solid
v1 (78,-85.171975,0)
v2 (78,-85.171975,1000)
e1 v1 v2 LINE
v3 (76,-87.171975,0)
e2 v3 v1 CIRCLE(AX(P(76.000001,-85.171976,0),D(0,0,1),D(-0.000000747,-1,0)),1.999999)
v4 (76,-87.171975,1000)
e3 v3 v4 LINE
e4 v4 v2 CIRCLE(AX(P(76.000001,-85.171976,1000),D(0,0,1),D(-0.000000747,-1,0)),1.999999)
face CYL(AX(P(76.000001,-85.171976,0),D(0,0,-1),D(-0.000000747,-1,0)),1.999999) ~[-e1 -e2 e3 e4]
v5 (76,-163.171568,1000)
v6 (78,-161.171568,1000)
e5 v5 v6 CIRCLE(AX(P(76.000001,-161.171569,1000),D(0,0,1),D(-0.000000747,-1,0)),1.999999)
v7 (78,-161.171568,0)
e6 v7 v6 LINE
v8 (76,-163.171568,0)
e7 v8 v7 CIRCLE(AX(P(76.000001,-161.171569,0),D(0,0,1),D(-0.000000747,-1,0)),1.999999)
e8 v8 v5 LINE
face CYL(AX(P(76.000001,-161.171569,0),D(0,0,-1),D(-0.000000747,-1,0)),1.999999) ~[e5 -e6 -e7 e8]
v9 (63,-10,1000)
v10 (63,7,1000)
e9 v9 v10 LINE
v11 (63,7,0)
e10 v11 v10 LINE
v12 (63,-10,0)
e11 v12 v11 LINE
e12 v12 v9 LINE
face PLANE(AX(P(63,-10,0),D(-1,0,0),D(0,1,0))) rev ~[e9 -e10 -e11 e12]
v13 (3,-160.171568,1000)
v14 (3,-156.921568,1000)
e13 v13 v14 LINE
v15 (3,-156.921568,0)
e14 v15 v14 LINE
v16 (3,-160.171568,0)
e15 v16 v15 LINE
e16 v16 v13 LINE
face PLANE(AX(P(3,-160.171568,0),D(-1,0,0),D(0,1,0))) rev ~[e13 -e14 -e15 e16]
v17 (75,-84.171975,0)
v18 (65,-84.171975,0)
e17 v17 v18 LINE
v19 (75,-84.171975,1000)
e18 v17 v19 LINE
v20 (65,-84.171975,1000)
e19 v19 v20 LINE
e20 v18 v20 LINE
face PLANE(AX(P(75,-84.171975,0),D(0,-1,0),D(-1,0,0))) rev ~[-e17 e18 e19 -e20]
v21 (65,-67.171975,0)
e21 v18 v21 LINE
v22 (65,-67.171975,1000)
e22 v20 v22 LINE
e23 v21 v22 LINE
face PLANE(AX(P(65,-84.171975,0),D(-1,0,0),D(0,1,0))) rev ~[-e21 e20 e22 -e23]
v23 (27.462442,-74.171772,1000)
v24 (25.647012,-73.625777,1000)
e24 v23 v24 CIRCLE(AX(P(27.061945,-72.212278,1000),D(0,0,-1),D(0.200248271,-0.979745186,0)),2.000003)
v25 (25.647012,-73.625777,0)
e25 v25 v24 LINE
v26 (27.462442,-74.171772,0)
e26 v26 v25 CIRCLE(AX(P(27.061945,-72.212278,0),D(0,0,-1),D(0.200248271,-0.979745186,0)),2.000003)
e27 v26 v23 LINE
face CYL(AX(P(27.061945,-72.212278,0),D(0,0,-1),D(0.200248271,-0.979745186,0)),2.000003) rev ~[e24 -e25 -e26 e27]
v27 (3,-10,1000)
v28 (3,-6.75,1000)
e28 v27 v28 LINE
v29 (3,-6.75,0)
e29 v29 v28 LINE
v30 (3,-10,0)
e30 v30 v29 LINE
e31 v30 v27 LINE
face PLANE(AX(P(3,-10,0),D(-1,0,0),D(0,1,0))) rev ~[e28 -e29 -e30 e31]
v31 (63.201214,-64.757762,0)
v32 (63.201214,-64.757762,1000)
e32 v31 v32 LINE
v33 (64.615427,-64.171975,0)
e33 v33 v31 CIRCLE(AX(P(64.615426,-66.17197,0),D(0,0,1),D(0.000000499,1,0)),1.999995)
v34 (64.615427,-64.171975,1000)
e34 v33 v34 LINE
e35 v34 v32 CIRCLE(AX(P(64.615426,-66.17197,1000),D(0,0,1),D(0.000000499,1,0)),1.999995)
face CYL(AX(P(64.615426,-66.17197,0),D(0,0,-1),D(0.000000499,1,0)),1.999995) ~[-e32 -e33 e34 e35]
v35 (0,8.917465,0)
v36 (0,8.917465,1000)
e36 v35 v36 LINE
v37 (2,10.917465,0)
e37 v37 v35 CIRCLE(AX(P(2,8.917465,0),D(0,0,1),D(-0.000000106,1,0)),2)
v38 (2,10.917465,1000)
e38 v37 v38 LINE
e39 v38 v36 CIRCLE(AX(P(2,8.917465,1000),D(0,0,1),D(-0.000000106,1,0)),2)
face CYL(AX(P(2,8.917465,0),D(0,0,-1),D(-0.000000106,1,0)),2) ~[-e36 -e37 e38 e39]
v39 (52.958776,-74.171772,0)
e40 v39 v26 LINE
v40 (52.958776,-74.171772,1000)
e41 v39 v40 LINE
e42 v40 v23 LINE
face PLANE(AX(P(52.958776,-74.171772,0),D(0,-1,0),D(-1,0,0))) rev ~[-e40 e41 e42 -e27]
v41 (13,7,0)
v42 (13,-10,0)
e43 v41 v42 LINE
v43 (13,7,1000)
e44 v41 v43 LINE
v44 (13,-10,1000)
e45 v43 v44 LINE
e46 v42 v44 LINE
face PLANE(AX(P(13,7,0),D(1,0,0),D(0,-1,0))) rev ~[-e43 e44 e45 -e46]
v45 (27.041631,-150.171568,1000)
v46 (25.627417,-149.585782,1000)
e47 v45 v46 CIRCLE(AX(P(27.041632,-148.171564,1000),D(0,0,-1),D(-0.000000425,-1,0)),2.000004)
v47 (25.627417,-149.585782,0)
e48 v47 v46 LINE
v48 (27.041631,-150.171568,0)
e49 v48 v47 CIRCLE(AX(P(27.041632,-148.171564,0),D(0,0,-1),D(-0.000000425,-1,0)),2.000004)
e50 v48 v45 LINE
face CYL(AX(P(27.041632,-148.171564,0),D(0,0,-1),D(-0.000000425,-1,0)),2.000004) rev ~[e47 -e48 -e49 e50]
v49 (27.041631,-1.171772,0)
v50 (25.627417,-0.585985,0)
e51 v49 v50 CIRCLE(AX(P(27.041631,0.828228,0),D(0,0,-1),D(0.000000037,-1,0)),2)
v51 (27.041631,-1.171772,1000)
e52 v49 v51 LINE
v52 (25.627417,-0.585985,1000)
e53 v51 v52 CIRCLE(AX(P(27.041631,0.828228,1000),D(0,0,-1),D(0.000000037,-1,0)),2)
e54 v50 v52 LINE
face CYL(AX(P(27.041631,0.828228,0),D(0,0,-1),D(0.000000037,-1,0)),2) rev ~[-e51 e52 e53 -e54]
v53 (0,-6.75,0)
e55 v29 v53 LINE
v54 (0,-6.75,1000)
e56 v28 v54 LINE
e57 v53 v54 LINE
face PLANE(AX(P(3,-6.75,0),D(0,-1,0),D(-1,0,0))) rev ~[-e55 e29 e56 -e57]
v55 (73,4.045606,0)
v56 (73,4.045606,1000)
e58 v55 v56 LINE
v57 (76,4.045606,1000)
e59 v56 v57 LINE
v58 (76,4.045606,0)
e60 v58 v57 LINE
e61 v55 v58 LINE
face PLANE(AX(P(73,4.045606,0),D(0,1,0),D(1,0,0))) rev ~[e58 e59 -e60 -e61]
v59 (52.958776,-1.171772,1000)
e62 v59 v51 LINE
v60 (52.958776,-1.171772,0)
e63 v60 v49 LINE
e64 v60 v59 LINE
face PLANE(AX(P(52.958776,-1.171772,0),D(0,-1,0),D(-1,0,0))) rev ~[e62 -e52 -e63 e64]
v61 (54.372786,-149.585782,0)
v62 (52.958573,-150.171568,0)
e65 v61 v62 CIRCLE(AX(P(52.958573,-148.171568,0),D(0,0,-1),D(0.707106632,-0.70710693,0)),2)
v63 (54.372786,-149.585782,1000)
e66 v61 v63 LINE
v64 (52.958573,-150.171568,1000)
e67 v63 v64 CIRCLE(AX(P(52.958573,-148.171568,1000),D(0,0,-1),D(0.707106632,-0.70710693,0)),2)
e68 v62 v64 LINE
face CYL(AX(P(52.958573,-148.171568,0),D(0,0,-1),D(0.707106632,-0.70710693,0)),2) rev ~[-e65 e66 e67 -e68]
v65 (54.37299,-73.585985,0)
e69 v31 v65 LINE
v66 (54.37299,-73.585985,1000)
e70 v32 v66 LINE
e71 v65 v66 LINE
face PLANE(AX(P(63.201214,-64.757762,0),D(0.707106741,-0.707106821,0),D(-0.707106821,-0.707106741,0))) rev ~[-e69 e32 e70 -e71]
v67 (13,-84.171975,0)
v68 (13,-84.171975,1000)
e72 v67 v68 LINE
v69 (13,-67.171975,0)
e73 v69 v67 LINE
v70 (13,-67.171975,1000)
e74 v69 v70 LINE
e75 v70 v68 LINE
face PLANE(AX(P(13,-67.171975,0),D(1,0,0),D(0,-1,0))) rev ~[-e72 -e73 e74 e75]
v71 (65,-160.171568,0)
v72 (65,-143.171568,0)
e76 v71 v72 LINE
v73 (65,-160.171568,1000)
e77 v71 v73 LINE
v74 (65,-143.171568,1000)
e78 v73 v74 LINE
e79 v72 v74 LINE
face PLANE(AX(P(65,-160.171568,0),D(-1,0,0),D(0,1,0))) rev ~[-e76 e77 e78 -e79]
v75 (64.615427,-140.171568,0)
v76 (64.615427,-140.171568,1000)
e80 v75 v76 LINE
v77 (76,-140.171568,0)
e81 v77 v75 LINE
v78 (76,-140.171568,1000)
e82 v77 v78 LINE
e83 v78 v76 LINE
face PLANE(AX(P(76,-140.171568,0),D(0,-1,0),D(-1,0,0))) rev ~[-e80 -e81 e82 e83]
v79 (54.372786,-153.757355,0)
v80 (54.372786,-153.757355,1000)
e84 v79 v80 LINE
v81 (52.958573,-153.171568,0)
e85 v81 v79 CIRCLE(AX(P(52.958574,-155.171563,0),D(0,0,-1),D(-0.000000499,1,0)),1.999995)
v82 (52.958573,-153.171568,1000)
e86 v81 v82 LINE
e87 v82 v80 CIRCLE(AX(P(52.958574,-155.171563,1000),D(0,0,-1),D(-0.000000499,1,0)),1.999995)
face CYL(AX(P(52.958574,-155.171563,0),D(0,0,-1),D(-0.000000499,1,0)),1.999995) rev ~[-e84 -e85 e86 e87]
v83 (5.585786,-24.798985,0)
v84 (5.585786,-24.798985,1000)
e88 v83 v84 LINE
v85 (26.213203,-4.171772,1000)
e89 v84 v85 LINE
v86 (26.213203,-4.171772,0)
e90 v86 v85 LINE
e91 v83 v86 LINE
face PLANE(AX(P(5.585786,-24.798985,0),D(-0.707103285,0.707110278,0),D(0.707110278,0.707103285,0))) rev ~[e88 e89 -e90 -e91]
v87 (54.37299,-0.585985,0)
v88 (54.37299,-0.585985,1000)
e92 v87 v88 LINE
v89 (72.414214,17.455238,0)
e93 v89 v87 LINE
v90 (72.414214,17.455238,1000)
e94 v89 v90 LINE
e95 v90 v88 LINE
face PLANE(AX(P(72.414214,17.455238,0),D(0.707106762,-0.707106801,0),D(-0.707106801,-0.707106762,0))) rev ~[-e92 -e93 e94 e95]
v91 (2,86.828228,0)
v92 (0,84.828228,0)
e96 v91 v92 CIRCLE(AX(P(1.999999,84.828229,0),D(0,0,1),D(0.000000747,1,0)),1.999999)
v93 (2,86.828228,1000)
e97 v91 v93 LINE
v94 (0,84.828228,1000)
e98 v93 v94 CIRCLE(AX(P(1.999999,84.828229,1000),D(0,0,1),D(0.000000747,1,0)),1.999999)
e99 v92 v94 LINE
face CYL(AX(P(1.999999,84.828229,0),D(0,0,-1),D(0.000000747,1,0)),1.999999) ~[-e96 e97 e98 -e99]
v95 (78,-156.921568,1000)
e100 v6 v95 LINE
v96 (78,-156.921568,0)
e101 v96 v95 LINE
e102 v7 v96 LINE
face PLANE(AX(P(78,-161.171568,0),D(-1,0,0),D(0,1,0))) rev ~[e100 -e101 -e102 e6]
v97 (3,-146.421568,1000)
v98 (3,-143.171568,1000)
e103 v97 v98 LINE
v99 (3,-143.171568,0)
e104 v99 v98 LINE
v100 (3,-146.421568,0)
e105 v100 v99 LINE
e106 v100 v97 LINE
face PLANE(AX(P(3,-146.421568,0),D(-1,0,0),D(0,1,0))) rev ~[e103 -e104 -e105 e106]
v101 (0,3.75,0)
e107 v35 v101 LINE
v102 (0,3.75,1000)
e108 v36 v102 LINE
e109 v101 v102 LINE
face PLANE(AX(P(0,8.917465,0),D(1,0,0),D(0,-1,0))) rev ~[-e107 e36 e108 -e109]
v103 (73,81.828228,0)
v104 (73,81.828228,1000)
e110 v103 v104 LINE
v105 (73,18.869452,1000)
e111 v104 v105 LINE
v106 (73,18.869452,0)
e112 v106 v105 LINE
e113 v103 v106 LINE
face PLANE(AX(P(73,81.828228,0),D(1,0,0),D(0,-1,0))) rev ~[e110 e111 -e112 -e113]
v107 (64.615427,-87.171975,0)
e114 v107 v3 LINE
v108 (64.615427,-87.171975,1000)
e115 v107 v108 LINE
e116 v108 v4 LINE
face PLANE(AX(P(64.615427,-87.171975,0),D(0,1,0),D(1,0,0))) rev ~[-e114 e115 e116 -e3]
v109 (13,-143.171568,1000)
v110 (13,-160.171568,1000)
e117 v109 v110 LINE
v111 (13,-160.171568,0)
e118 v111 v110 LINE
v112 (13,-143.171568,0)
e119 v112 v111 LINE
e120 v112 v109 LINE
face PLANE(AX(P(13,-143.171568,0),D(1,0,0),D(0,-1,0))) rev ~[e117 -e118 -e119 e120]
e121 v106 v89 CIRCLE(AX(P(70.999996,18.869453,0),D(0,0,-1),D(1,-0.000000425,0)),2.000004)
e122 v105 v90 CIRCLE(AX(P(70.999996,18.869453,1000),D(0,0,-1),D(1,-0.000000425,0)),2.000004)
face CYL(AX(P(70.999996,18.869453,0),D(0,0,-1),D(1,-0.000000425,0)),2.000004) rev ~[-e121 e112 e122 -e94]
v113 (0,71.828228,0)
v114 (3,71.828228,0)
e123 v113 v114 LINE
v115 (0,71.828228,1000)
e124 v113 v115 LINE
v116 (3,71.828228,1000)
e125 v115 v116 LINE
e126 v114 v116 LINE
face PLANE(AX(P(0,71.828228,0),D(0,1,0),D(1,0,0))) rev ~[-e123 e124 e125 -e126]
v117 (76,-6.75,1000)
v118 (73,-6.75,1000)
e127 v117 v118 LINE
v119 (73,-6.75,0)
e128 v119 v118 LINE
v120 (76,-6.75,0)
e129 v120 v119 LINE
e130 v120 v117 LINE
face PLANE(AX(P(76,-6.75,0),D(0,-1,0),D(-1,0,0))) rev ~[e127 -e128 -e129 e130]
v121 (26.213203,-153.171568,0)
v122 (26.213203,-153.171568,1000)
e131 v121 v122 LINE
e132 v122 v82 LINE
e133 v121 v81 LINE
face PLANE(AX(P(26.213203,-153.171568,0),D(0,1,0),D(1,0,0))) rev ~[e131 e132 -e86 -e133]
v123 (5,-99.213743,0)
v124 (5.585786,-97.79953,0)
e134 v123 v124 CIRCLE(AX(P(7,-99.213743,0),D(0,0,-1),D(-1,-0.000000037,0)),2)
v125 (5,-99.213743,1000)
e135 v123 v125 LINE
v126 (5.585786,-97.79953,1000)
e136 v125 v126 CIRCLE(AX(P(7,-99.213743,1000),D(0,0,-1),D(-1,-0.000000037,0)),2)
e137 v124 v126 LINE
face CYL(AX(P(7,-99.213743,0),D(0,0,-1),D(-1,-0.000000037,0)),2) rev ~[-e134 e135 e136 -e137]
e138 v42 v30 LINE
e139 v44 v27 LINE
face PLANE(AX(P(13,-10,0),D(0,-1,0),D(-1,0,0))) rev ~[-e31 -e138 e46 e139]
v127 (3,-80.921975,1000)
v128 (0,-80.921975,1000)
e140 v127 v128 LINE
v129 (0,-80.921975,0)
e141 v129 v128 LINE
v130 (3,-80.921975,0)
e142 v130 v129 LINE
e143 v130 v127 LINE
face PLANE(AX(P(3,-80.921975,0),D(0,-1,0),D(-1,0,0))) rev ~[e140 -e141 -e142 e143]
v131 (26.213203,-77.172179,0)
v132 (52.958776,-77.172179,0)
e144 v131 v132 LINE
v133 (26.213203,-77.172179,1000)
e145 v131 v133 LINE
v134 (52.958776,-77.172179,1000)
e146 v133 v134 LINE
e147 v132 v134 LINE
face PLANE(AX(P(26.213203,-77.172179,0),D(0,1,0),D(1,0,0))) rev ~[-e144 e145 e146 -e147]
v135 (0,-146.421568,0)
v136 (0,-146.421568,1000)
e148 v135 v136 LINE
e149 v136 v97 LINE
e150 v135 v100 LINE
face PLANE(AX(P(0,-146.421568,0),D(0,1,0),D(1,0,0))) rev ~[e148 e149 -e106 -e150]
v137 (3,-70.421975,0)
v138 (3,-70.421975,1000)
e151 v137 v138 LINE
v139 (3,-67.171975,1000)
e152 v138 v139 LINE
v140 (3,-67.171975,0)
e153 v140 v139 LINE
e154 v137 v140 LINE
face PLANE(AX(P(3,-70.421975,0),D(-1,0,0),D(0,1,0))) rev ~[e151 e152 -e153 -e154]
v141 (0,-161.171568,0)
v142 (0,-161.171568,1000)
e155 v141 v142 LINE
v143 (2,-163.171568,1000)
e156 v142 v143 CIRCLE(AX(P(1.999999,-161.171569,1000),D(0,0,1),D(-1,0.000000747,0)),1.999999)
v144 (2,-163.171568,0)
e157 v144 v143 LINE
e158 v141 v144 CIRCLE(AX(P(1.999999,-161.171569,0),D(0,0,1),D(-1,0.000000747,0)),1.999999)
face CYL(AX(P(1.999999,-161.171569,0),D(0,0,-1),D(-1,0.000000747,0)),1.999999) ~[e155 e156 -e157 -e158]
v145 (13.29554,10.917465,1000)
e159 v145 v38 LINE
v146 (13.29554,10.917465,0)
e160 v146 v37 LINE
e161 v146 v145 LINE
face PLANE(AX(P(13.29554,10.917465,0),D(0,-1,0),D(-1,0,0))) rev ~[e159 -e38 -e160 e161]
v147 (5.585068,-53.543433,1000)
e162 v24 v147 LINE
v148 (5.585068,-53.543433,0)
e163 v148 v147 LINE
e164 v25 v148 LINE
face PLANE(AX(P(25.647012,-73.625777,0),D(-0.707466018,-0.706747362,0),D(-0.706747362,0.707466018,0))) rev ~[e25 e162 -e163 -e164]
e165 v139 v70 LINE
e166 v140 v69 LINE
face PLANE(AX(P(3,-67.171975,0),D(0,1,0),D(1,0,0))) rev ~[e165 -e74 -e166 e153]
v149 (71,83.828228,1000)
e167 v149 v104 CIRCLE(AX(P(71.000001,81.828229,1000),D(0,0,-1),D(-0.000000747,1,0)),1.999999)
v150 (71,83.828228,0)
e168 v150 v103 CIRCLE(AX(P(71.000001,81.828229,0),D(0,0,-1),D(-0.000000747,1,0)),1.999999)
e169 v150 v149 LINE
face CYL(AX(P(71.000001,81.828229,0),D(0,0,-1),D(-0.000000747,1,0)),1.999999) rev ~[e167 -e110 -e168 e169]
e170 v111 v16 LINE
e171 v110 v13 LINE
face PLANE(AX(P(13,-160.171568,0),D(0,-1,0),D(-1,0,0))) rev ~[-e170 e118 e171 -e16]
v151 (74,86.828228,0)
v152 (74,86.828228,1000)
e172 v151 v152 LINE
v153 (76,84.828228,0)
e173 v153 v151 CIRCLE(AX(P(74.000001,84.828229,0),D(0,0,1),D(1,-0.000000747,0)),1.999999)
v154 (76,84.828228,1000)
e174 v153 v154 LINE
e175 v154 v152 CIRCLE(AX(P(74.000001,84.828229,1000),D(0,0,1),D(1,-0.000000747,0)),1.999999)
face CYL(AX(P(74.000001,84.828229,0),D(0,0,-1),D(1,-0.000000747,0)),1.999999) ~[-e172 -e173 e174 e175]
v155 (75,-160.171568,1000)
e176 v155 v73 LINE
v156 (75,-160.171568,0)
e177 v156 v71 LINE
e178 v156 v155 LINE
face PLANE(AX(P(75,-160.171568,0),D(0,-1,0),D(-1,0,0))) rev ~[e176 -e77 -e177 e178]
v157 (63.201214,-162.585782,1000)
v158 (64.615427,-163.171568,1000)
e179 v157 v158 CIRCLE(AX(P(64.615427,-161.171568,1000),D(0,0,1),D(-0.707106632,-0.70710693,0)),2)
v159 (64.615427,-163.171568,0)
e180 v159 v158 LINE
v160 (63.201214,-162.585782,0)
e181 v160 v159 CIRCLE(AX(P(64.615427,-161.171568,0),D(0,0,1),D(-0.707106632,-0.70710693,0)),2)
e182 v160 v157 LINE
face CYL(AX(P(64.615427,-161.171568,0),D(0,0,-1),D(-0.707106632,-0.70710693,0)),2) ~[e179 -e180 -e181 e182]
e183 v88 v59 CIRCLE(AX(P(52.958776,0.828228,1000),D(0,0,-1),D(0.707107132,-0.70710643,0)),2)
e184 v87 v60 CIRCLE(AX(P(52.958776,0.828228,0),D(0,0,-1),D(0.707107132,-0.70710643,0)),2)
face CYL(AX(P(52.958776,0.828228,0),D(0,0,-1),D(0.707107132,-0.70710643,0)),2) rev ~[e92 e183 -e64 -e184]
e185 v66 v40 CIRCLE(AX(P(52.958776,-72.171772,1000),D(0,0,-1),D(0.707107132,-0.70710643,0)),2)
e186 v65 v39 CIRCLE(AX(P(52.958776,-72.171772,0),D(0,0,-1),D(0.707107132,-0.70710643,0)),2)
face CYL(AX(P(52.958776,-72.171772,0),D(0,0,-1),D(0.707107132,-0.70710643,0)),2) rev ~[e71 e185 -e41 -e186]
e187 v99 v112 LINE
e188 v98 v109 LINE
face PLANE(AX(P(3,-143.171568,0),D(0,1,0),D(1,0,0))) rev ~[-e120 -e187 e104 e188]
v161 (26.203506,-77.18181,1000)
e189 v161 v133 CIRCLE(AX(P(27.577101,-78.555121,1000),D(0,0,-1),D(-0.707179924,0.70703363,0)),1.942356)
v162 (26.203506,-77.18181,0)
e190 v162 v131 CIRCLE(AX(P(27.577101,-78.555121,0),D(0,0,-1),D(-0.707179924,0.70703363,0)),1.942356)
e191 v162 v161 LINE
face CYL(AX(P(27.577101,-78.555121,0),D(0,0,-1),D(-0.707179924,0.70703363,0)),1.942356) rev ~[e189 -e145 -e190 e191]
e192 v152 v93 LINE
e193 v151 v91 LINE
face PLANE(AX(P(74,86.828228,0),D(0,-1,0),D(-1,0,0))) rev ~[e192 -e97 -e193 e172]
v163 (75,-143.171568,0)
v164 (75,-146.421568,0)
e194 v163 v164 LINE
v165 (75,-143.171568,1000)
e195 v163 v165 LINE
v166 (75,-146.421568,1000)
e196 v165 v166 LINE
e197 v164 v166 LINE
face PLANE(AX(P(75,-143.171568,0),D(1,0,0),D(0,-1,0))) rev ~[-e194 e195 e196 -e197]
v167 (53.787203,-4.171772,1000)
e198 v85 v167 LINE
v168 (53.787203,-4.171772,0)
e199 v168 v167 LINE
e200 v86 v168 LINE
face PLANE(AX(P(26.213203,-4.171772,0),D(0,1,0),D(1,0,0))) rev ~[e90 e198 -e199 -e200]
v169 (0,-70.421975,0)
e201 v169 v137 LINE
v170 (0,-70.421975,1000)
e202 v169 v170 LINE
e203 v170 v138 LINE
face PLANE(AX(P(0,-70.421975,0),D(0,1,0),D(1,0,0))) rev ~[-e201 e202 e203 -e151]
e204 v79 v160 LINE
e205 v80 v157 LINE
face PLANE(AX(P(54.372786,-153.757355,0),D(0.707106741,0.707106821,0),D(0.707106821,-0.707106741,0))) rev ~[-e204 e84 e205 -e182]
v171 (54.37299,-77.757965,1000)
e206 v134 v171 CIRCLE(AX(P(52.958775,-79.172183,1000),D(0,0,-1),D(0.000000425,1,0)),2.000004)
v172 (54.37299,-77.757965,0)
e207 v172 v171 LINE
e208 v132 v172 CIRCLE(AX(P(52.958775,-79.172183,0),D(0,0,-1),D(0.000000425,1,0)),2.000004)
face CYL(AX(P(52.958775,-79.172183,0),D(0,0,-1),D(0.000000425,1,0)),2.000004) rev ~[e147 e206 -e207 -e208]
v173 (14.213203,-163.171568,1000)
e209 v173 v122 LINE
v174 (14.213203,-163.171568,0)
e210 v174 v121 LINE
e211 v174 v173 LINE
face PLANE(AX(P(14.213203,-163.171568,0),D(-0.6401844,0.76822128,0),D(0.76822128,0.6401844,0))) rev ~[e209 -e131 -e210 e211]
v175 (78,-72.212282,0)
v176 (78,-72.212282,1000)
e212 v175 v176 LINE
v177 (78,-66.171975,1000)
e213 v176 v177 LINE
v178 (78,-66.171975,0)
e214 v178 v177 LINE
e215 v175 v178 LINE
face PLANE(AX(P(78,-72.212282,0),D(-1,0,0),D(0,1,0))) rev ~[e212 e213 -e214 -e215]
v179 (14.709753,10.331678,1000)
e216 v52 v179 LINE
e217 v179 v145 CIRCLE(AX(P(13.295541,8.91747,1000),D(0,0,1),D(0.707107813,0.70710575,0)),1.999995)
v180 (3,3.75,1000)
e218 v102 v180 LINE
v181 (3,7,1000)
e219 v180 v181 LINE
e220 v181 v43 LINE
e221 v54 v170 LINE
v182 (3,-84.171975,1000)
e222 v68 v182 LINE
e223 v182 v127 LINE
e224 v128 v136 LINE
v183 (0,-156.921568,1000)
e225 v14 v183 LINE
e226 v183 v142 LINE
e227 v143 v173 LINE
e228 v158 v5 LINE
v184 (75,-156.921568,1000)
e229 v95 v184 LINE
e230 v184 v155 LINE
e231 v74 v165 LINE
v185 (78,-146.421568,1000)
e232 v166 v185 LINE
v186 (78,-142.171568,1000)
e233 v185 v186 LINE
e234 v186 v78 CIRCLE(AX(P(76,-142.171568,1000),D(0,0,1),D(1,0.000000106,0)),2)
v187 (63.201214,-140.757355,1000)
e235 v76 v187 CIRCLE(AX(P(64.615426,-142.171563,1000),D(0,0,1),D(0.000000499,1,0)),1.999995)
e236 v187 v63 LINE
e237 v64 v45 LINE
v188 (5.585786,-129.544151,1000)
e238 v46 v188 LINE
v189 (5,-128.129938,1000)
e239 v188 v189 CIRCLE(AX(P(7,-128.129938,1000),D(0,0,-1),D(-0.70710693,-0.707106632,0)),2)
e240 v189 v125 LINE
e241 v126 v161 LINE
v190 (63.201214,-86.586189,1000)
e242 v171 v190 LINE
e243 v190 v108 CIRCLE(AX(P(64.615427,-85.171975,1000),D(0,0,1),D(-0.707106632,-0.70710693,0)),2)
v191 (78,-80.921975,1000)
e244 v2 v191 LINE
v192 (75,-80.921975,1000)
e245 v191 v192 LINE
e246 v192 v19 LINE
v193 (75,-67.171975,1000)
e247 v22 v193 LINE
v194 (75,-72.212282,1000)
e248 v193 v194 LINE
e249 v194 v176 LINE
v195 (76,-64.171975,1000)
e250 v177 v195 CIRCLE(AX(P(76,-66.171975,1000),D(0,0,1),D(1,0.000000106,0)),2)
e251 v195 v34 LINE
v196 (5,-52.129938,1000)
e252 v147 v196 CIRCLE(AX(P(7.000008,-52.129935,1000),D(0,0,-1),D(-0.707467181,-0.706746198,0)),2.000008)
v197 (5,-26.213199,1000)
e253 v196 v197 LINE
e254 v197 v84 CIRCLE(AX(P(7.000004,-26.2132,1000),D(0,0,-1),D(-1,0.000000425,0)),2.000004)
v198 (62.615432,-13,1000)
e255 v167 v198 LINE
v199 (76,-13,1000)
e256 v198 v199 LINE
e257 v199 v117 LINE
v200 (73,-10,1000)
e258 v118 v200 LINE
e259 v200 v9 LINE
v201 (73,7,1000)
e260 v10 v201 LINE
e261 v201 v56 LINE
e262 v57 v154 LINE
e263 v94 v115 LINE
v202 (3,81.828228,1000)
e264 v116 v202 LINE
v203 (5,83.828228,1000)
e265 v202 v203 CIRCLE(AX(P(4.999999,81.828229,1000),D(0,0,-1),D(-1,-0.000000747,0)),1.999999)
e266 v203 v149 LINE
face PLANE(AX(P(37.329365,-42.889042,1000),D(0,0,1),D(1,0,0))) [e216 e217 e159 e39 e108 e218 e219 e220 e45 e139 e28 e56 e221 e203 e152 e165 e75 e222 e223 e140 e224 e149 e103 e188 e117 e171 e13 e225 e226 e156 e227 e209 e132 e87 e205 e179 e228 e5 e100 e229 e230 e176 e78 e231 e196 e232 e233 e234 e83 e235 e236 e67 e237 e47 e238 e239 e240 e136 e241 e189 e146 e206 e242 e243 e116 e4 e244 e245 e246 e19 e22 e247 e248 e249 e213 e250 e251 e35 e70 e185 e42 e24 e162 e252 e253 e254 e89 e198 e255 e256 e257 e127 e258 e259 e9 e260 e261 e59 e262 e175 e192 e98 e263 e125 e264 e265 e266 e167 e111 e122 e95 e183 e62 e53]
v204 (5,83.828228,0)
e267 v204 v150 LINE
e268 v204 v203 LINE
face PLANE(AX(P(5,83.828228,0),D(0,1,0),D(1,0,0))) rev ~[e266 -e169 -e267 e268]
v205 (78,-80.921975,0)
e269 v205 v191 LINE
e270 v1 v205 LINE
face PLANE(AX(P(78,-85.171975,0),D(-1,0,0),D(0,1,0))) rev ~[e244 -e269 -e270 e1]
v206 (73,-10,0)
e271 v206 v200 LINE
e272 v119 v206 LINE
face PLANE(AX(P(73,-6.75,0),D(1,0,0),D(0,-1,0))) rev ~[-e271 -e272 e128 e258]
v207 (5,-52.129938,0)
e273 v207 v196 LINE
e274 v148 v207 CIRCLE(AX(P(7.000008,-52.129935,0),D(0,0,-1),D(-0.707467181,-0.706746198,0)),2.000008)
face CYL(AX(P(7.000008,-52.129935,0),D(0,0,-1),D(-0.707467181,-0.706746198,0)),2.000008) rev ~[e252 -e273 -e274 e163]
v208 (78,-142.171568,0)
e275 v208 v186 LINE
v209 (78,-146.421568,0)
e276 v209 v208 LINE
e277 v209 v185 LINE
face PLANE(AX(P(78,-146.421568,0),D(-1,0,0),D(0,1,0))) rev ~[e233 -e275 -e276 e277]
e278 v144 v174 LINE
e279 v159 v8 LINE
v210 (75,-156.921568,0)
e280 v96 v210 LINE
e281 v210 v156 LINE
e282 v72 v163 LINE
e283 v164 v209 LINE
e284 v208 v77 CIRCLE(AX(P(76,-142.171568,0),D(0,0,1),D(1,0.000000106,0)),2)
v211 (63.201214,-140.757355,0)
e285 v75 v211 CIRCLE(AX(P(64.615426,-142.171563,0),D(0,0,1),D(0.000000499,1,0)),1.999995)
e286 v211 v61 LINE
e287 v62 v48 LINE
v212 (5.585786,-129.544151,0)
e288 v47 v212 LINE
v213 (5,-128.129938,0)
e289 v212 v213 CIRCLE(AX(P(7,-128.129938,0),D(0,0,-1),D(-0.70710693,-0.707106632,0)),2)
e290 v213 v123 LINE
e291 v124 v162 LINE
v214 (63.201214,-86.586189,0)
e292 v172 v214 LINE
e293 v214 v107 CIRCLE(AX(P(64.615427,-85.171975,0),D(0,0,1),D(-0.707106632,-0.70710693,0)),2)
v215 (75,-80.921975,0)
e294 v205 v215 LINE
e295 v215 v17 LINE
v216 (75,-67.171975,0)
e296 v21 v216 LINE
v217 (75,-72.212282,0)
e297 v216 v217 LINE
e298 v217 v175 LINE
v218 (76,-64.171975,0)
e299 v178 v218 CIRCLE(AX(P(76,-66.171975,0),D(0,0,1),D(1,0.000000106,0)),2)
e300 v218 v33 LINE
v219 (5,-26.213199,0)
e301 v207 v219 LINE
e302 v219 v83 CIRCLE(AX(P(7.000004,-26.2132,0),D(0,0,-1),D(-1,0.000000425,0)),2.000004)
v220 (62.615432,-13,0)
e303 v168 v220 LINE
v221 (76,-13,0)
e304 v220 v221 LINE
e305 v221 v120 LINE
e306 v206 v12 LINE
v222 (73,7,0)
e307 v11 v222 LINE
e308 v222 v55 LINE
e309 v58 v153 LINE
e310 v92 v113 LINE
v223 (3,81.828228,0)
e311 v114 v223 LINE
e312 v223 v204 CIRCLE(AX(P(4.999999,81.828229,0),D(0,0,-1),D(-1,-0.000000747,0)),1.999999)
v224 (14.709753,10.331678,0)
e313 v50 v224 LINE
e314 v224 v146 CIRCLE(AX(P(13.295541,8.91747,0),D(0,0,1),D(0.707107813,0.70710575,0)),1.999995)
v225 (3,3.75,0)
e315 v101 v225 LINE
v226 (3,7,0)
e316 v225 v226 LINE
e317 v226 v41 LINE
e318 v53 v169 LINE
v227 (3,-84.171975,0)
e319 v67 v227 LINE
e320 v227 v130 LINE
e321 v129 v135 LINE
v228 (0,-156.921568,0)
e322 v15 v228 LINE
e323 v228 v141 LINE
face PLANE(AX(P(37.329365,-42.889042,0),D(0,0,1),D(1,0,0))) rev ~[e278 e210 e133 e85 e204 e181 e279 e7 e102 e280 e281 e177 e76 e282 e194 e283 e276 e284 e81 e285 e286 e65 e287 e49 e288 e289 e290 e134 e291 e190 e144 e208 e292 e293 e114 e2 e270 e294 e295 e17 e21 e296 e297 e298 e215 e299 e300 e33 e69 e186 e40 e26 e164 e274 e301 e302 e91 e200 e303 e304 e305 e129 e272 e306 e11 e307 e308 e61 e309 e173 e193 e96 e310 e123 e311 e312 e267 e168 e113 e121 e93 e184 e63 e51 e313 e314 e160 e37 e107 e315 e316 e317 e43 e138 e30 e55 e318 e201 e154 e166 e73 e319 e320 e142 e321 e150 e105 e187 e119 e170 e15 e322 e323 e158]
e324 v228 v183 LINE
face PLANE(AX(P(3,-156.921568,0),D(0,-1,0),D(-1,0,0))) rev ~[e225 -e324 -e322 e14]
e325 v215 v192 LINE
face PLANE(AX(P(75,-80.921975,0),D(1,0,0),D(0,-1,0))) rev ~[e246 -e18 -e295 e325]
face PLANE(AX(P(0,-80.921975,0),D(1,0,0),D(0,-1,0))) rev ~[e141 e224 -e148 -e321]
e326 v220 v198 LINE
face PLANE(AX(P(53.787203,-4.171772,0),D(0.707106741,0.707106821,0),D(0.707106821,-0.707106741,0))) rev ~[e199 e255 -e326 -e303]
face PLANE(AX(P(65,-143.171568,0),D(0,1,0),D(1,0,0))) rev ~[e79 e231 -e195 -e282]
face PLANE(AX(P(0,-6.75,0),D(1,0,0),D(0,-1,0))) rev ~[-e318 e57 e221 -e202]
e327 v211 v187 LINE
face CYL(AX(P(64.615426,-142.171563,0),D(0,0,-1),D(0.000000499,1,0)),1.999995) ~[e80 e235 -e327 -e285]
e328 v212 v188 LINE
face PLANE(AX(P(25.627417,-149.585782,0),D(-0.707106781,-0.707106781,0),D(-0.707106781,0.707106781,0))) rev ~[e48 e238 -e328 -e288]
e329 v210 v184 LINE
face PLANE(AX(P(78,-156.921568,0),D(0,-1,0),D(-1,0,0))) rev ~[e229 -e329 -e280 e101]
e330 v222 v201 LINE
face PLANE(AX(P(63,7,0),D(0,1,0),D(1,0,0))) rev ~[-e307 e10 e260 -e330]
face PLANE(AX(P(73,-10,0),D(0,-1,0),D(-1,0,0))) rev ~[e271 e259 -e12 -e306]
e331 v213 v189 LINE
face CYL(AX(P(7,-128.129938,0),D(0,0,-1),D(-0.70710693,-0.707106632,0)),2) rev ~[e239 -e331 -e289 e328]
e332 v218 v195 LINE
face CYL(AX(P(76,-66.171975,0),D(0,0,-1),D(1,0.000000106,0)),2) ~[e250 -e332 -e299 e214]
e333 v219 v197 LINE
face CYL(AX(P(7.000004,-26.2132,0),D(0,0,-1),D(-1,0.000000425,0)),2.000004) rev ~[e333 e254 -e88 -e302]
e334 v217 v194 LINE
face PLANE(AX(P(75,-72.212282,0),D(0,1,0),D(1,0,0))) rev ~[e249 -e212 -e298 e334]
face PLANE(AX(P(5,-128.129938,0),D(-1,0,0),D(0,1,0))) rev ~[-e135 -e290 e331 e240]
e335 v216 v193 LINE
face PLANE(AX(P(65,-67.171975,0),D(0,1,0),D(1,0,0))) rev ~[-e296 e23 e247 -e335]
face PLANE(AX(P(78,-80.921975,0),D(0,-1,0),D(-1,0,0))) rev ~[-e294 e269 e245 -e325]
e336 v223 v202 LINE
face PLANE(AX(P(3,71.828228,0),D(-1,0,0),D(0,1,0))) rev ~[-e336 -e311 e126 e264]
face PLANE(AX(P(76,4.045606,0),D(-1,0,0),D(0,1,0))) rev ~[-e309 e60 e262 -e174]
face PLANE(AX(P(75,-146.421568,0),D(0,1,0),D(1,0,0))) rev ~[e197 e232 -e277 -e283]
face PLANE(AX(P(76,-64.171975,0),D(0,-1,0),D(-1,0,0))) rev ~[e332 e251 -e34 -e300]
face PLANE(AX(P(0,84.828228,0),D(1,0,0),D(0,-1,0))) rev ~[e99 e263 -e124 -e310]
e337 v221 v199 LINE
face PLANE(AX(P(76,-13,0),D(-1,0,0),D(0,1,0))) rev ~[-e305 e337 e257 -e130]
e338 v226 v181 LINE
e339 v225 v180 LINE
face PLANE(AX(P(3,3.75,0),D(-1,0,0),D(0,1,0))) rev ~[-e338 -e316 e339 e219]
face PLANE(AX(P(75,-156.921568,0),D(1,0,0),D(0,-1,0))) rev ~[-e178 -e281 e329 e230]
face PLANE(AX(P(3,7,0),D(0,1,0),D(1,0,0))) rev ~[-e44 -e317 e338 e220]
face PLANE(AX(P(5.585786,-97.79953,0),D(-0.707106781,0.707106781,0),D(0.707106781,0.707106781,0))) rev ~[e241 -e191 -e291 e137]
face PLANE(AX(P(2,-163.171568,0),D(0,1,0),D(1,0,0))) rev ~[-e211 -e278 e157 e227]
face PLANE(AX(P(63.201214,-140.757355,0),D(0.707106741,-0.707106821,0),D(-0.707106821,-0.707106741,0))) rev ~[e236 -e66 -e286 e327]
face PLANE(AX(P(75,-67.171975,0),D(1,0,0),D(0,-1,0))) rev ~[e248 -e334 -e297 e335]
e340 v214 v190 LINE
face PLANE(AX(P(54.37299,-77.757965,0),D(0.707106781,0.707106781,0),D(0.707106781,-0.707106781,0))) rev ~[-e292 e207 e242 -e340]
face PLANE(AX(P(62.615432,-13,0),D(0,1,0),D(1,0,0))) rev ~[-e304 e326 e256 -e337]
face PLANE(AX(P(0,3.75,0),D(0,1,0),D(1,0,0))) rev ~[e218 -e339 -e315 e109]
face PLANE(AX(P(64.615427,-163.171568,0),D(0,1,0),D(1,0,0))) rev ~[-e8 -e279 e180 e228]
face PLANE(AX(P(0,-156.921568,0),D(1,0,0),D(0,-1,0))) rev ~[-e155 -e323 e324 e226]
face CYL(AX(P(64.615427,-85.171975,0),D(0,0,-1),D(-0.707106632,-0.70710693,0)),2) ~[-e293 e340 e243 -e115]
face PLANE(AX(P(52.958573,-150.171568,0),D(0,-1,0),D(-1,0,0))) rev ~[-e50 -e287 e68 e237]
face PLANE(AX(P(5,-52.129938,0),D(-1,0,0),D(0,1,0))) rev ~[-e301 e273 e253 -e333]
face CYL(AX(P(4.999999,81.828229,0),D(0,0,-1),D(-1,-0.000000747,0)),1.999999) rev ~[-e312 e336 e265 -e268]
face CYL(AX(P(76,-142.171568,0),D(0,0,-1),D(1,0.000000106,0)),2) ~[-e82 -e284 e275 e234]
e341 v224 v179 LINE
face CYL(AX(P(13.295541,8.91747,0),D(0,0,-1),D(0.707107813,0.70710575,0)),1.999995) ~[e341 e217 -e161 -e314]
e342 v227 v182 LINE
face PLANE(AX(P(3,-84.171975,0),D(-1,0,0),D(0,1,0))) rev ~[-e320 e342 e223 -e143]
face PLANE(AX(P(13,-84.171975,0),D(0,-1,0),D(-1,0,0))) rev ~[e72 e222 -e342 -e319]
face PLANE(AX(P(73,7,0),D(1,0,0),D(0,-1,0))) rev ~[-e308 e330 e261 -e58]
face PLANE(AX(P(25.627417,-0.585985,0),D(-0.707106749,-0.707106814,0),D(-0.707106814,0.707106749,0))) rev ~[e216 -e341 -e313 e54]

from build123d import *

# Parameters (mm, degrees)
F1_DEPTH = 1000


with BuildPart() as f1:
    # F0 (on Top) → F1 (new body)
    with BuildSketch(Plane.XY):
        with BuildLine():
            Line((0, 8.917465), (0, 3.75))
            Line((0, 3.75), (3, 3.75))
            Line((3, 3.75), (3, 7))
            Line((3, 7), (13, 7))
            Line((13, 7), (13, -10))
            Line((13, -10), (3, -10))
            Line((3, -10), (3, -6.75))
            Line((3, -6.75), (0, -6.75))
            Line((0, -6.75), (0, -70.421975))
            Line((0, -70.421975), (3, -70.421975))
            Line((3, -70.421975), (3, -67.171975))
            Line((3, -67.171975), (13, -67.171975))
            Line((13, -67.171975), (13, -84.171975))
            Line((13, -84.171975), (3, -84.171975))
            Line((3, -84.171975), (3, -80.921975))
            Line((3, -80.921975), (0, -80.921975))
            Line((0, -80.921975), (0, -146.421568))
            Line((0, -146.421568), (3, -146.421568))
            Line((3, -146.421568), (3, -143.171568))
            Line((3, -143.171568), (13, -143.171568))
            Line((13, -143.171568), (13, -160.171568))
            Line((13, -160.171568), (3, -160.171568))
            Line((3, -160.171568), (3, -156.921568))
            Line((3, -156.921568), (0, -156.921568))
            Line((0, -156.921568), (0, -161.171568))
            ThreePointArc((0, -161.171568), (0.585786, -162.585782), (2, -163.171568))
            Line((2, -163.171568), (14.213203, -163.171568))
            Line((14.213203, -163.171568), (26.213203, -153.171568))
            Line((26.213203, -153.171568), (52.958573, -153.171568))
            ThreePointArc((52.958573, -153.171568), (53.72394, -153.323809), (54.372786, -153.757355))
            Line((54.372786, -153.757355), (63.201214, -162.585782))
            ThreePointArc((63.201214, -162.585782), (63.85006, -163.019327), (64.615427, -163.171568))
            Line((64.615427, -163.171568), (76, -163.171568))
            ThreePointArc((76, -163.171568), (77.414214, -162.585782), (78, -161.171568))
            Line((78, -161.171568), (78, -156.921568))
            Line((78, -156.921568), (75, -156.921568))
            Line((75, -156.921568), (75, -160.171568))
            Line((75, -160.171568), (65, -160.171568))
            Line((65, -160.171568), (65, -143.171568))
            Line((65, -143.171568), (75, -143.171568))
            Line((75, -143.171568), (75, -146.421568))
            Line((75, -146.421568), (78, -146.421568))
            Line((78, -146.421568), (78, -142.171568))
            ThreePointArc((78, -142.171568), (77.414214, -140.757355), (76, -140.171568))
            Line((76, -140.171568), (64.615427, -140.171568))
            ThreePointArc((64.615427, -140.171568), (63.85006, -140.323809), (63.201214, -140.757355))
            Line((63.201214, -140.757355), (54.372786, -149.585782))
            ThreePointArc((54.372786, -149.585782), (53.72394, -150.019327), (52.958573, -150.171568))
            Line((52.958573, -150.171568), (27.041631, -150.171568))
            ThreePointArc((27.041631, -150.171568), (26.276264, -150.019327), (25.627417, -149.585782))
            Line((25.627417, -149.585782), (5.585786, -129.544151))
            ThreePointArc((5.585786, -129.544151), (5.152241, -128.895305), (5, -128.129938))
            Line((5, -128.129938), (5, -99.213743))
            ThreePointArc((5, -99.213743), (5.152241, -98.448376), (5.585786, -97.79953))
            Line((5.585786, -97.79953), (26.203506, -77.18181))
            ThreePointArc((26.203506, -77.18181), (26.208346, -77.176986), (26.213203, -77.172179))
            Line((26.213203, -77.172179), (52.958776, -77.172179))
            ThreePointArc((52.958776, -77.172179), (53.724143, -77.32442), (54.37299, -77.757965))
            Line((54.37299, -77.757965), (63.201214, -86.586189))
            ThreePointArc((63.201214, -86.586189), (63.85006, -87.019734), (64.615427, -87.171975))
            Line((64.615427, -87.171975), (76, -87.171975))
            ThreePointArc((76, -87.171975), (77.414214, -86.586189), (78, -85.171975))
            Line((78, -85.171975), (78, -80.921975))
            Line((78, -80.921975), (75, -80.921975))
            Line((75, -80.921975), (75, -84.171975))
            Line((75, -84.171975), (65, -84.171975))
            Line((65, -84.171975), (65, -67.171975))
            Line((65, -67.171975), (75, -67.171975))
            Line((75, -67.171975), (75, -72.212282))
            Line((75, -72.212282), (78, -72.212282))
            Line((78, -72.212282), (78, -66.171975))
            ThreePointArc((78, -66.171975), (77.414214, -64.757762), (76, -64.171975))
            Line((76, -64.171975), (64.615427, -64.171975))
            ThreePointArc((64.615427, -64.171975), (63.85006, -64.324216), (63.201214, -64.757762))
            Line((63.201214, -64.757762), (54.37299, -73.585985))
            ThreePointArc((54.37299, -73.585985), (53.724143, -74.019531), (52.958776, -74.171772))
            Line((52.958776, -74.171772), (27.462442, -74.171772))
            ThreePointArc((27.462442, -74.171772), (26.485926, -74.127537), (25.647012, -73.625777))
            Line((25.647012, -73.625777), (5.585068, -53.543433))
            ThreePointArc((5.585068, -53.543433), (5.152047, -52.894835), (5, -52.129938))
            Line((5, -52.129938), (5, -26.213199))
            ThreePointArc((5, -26.213199), (5.152241, -25.447832), (5.585786, -24.798985))
            Line((5.585786, -24.798985), (26.213203, -4.171772))
            Line((26.213203, -4.171772), (53.787203, -4.171772))
            Line((53.787203, -4.171772), (62.615432, -13))
            Line((62.615432, -13), (76, -13))
            Line((76, -13), (76, -6.75))
            Line((76, -6.75), (73, -6.75))
            Line((73, -6.75), (73, -10))
            Line((73, -10), (63, -10))
            Line((63, -10), (63, 7))
            Line((63, 7), (73, 7))
            Line((73, 7), (73, 4.045606))
            Line((73, 4.045606), (76, 4.045606))
            Line((76, 4.045606), (76, 84.828228))
            ThreePointArc((76, 84.828228), (75.414214, 86.242442), (74, 86.828228))
            Line((74, 86.828228), (2, 86.828228))
            ThreePointArc((2, 86.828228), (0.585786, 86.242442), (0, 84.828228))
            Line((0, 84.828228), (0, 71.828228))
            Line((0, 71.828228), (3, 71.828228))
            Line((3, 71.828228), (3, 81.828228))
            ThreePointArc((3, 81.828228), (3.585786, 83.242442), (5, 83.828228))
            Line((5, 83.828228), (71, 83.828228))
            ThreePointArc((71, 83.828228), (72.414214, 83.242442), (73, 81.828228))
            Line((73, 81.828228), (73, 18.869452))
            ThreePointArc((73, 18.869452), (72.847759, 18.104085), (72.414214, 17.455238))
            Line((72.414214, 17.455238), (54.37299, -0.585985))
            ThreePointArc((54.37299, -0.585985), (53.724143, -1.019531), (52.958776, -1.171772))
            Line((52.958776, -1.171772), (27.041631, -1.171772))
            ThreePointArc((27.041631, -1.171772), (26.276264, -1.019531), (25.627417, -0.585985))
            Line((25.627417, -0.585985), (14.709753, 10.331678))
            ThreePointArc((14.709753, 10.331678), (14.060907, 10.765224), (13.29554, 10.917465))
            Line((13.29554, 10.917465), (2, 10.917465))
            ThreePointArc((2, 10.917465), (0.585786, 10.331678), (0, 8.917465))
        make_face()
    extrude(amount=F1_DEPTH)


solid = f1.part
